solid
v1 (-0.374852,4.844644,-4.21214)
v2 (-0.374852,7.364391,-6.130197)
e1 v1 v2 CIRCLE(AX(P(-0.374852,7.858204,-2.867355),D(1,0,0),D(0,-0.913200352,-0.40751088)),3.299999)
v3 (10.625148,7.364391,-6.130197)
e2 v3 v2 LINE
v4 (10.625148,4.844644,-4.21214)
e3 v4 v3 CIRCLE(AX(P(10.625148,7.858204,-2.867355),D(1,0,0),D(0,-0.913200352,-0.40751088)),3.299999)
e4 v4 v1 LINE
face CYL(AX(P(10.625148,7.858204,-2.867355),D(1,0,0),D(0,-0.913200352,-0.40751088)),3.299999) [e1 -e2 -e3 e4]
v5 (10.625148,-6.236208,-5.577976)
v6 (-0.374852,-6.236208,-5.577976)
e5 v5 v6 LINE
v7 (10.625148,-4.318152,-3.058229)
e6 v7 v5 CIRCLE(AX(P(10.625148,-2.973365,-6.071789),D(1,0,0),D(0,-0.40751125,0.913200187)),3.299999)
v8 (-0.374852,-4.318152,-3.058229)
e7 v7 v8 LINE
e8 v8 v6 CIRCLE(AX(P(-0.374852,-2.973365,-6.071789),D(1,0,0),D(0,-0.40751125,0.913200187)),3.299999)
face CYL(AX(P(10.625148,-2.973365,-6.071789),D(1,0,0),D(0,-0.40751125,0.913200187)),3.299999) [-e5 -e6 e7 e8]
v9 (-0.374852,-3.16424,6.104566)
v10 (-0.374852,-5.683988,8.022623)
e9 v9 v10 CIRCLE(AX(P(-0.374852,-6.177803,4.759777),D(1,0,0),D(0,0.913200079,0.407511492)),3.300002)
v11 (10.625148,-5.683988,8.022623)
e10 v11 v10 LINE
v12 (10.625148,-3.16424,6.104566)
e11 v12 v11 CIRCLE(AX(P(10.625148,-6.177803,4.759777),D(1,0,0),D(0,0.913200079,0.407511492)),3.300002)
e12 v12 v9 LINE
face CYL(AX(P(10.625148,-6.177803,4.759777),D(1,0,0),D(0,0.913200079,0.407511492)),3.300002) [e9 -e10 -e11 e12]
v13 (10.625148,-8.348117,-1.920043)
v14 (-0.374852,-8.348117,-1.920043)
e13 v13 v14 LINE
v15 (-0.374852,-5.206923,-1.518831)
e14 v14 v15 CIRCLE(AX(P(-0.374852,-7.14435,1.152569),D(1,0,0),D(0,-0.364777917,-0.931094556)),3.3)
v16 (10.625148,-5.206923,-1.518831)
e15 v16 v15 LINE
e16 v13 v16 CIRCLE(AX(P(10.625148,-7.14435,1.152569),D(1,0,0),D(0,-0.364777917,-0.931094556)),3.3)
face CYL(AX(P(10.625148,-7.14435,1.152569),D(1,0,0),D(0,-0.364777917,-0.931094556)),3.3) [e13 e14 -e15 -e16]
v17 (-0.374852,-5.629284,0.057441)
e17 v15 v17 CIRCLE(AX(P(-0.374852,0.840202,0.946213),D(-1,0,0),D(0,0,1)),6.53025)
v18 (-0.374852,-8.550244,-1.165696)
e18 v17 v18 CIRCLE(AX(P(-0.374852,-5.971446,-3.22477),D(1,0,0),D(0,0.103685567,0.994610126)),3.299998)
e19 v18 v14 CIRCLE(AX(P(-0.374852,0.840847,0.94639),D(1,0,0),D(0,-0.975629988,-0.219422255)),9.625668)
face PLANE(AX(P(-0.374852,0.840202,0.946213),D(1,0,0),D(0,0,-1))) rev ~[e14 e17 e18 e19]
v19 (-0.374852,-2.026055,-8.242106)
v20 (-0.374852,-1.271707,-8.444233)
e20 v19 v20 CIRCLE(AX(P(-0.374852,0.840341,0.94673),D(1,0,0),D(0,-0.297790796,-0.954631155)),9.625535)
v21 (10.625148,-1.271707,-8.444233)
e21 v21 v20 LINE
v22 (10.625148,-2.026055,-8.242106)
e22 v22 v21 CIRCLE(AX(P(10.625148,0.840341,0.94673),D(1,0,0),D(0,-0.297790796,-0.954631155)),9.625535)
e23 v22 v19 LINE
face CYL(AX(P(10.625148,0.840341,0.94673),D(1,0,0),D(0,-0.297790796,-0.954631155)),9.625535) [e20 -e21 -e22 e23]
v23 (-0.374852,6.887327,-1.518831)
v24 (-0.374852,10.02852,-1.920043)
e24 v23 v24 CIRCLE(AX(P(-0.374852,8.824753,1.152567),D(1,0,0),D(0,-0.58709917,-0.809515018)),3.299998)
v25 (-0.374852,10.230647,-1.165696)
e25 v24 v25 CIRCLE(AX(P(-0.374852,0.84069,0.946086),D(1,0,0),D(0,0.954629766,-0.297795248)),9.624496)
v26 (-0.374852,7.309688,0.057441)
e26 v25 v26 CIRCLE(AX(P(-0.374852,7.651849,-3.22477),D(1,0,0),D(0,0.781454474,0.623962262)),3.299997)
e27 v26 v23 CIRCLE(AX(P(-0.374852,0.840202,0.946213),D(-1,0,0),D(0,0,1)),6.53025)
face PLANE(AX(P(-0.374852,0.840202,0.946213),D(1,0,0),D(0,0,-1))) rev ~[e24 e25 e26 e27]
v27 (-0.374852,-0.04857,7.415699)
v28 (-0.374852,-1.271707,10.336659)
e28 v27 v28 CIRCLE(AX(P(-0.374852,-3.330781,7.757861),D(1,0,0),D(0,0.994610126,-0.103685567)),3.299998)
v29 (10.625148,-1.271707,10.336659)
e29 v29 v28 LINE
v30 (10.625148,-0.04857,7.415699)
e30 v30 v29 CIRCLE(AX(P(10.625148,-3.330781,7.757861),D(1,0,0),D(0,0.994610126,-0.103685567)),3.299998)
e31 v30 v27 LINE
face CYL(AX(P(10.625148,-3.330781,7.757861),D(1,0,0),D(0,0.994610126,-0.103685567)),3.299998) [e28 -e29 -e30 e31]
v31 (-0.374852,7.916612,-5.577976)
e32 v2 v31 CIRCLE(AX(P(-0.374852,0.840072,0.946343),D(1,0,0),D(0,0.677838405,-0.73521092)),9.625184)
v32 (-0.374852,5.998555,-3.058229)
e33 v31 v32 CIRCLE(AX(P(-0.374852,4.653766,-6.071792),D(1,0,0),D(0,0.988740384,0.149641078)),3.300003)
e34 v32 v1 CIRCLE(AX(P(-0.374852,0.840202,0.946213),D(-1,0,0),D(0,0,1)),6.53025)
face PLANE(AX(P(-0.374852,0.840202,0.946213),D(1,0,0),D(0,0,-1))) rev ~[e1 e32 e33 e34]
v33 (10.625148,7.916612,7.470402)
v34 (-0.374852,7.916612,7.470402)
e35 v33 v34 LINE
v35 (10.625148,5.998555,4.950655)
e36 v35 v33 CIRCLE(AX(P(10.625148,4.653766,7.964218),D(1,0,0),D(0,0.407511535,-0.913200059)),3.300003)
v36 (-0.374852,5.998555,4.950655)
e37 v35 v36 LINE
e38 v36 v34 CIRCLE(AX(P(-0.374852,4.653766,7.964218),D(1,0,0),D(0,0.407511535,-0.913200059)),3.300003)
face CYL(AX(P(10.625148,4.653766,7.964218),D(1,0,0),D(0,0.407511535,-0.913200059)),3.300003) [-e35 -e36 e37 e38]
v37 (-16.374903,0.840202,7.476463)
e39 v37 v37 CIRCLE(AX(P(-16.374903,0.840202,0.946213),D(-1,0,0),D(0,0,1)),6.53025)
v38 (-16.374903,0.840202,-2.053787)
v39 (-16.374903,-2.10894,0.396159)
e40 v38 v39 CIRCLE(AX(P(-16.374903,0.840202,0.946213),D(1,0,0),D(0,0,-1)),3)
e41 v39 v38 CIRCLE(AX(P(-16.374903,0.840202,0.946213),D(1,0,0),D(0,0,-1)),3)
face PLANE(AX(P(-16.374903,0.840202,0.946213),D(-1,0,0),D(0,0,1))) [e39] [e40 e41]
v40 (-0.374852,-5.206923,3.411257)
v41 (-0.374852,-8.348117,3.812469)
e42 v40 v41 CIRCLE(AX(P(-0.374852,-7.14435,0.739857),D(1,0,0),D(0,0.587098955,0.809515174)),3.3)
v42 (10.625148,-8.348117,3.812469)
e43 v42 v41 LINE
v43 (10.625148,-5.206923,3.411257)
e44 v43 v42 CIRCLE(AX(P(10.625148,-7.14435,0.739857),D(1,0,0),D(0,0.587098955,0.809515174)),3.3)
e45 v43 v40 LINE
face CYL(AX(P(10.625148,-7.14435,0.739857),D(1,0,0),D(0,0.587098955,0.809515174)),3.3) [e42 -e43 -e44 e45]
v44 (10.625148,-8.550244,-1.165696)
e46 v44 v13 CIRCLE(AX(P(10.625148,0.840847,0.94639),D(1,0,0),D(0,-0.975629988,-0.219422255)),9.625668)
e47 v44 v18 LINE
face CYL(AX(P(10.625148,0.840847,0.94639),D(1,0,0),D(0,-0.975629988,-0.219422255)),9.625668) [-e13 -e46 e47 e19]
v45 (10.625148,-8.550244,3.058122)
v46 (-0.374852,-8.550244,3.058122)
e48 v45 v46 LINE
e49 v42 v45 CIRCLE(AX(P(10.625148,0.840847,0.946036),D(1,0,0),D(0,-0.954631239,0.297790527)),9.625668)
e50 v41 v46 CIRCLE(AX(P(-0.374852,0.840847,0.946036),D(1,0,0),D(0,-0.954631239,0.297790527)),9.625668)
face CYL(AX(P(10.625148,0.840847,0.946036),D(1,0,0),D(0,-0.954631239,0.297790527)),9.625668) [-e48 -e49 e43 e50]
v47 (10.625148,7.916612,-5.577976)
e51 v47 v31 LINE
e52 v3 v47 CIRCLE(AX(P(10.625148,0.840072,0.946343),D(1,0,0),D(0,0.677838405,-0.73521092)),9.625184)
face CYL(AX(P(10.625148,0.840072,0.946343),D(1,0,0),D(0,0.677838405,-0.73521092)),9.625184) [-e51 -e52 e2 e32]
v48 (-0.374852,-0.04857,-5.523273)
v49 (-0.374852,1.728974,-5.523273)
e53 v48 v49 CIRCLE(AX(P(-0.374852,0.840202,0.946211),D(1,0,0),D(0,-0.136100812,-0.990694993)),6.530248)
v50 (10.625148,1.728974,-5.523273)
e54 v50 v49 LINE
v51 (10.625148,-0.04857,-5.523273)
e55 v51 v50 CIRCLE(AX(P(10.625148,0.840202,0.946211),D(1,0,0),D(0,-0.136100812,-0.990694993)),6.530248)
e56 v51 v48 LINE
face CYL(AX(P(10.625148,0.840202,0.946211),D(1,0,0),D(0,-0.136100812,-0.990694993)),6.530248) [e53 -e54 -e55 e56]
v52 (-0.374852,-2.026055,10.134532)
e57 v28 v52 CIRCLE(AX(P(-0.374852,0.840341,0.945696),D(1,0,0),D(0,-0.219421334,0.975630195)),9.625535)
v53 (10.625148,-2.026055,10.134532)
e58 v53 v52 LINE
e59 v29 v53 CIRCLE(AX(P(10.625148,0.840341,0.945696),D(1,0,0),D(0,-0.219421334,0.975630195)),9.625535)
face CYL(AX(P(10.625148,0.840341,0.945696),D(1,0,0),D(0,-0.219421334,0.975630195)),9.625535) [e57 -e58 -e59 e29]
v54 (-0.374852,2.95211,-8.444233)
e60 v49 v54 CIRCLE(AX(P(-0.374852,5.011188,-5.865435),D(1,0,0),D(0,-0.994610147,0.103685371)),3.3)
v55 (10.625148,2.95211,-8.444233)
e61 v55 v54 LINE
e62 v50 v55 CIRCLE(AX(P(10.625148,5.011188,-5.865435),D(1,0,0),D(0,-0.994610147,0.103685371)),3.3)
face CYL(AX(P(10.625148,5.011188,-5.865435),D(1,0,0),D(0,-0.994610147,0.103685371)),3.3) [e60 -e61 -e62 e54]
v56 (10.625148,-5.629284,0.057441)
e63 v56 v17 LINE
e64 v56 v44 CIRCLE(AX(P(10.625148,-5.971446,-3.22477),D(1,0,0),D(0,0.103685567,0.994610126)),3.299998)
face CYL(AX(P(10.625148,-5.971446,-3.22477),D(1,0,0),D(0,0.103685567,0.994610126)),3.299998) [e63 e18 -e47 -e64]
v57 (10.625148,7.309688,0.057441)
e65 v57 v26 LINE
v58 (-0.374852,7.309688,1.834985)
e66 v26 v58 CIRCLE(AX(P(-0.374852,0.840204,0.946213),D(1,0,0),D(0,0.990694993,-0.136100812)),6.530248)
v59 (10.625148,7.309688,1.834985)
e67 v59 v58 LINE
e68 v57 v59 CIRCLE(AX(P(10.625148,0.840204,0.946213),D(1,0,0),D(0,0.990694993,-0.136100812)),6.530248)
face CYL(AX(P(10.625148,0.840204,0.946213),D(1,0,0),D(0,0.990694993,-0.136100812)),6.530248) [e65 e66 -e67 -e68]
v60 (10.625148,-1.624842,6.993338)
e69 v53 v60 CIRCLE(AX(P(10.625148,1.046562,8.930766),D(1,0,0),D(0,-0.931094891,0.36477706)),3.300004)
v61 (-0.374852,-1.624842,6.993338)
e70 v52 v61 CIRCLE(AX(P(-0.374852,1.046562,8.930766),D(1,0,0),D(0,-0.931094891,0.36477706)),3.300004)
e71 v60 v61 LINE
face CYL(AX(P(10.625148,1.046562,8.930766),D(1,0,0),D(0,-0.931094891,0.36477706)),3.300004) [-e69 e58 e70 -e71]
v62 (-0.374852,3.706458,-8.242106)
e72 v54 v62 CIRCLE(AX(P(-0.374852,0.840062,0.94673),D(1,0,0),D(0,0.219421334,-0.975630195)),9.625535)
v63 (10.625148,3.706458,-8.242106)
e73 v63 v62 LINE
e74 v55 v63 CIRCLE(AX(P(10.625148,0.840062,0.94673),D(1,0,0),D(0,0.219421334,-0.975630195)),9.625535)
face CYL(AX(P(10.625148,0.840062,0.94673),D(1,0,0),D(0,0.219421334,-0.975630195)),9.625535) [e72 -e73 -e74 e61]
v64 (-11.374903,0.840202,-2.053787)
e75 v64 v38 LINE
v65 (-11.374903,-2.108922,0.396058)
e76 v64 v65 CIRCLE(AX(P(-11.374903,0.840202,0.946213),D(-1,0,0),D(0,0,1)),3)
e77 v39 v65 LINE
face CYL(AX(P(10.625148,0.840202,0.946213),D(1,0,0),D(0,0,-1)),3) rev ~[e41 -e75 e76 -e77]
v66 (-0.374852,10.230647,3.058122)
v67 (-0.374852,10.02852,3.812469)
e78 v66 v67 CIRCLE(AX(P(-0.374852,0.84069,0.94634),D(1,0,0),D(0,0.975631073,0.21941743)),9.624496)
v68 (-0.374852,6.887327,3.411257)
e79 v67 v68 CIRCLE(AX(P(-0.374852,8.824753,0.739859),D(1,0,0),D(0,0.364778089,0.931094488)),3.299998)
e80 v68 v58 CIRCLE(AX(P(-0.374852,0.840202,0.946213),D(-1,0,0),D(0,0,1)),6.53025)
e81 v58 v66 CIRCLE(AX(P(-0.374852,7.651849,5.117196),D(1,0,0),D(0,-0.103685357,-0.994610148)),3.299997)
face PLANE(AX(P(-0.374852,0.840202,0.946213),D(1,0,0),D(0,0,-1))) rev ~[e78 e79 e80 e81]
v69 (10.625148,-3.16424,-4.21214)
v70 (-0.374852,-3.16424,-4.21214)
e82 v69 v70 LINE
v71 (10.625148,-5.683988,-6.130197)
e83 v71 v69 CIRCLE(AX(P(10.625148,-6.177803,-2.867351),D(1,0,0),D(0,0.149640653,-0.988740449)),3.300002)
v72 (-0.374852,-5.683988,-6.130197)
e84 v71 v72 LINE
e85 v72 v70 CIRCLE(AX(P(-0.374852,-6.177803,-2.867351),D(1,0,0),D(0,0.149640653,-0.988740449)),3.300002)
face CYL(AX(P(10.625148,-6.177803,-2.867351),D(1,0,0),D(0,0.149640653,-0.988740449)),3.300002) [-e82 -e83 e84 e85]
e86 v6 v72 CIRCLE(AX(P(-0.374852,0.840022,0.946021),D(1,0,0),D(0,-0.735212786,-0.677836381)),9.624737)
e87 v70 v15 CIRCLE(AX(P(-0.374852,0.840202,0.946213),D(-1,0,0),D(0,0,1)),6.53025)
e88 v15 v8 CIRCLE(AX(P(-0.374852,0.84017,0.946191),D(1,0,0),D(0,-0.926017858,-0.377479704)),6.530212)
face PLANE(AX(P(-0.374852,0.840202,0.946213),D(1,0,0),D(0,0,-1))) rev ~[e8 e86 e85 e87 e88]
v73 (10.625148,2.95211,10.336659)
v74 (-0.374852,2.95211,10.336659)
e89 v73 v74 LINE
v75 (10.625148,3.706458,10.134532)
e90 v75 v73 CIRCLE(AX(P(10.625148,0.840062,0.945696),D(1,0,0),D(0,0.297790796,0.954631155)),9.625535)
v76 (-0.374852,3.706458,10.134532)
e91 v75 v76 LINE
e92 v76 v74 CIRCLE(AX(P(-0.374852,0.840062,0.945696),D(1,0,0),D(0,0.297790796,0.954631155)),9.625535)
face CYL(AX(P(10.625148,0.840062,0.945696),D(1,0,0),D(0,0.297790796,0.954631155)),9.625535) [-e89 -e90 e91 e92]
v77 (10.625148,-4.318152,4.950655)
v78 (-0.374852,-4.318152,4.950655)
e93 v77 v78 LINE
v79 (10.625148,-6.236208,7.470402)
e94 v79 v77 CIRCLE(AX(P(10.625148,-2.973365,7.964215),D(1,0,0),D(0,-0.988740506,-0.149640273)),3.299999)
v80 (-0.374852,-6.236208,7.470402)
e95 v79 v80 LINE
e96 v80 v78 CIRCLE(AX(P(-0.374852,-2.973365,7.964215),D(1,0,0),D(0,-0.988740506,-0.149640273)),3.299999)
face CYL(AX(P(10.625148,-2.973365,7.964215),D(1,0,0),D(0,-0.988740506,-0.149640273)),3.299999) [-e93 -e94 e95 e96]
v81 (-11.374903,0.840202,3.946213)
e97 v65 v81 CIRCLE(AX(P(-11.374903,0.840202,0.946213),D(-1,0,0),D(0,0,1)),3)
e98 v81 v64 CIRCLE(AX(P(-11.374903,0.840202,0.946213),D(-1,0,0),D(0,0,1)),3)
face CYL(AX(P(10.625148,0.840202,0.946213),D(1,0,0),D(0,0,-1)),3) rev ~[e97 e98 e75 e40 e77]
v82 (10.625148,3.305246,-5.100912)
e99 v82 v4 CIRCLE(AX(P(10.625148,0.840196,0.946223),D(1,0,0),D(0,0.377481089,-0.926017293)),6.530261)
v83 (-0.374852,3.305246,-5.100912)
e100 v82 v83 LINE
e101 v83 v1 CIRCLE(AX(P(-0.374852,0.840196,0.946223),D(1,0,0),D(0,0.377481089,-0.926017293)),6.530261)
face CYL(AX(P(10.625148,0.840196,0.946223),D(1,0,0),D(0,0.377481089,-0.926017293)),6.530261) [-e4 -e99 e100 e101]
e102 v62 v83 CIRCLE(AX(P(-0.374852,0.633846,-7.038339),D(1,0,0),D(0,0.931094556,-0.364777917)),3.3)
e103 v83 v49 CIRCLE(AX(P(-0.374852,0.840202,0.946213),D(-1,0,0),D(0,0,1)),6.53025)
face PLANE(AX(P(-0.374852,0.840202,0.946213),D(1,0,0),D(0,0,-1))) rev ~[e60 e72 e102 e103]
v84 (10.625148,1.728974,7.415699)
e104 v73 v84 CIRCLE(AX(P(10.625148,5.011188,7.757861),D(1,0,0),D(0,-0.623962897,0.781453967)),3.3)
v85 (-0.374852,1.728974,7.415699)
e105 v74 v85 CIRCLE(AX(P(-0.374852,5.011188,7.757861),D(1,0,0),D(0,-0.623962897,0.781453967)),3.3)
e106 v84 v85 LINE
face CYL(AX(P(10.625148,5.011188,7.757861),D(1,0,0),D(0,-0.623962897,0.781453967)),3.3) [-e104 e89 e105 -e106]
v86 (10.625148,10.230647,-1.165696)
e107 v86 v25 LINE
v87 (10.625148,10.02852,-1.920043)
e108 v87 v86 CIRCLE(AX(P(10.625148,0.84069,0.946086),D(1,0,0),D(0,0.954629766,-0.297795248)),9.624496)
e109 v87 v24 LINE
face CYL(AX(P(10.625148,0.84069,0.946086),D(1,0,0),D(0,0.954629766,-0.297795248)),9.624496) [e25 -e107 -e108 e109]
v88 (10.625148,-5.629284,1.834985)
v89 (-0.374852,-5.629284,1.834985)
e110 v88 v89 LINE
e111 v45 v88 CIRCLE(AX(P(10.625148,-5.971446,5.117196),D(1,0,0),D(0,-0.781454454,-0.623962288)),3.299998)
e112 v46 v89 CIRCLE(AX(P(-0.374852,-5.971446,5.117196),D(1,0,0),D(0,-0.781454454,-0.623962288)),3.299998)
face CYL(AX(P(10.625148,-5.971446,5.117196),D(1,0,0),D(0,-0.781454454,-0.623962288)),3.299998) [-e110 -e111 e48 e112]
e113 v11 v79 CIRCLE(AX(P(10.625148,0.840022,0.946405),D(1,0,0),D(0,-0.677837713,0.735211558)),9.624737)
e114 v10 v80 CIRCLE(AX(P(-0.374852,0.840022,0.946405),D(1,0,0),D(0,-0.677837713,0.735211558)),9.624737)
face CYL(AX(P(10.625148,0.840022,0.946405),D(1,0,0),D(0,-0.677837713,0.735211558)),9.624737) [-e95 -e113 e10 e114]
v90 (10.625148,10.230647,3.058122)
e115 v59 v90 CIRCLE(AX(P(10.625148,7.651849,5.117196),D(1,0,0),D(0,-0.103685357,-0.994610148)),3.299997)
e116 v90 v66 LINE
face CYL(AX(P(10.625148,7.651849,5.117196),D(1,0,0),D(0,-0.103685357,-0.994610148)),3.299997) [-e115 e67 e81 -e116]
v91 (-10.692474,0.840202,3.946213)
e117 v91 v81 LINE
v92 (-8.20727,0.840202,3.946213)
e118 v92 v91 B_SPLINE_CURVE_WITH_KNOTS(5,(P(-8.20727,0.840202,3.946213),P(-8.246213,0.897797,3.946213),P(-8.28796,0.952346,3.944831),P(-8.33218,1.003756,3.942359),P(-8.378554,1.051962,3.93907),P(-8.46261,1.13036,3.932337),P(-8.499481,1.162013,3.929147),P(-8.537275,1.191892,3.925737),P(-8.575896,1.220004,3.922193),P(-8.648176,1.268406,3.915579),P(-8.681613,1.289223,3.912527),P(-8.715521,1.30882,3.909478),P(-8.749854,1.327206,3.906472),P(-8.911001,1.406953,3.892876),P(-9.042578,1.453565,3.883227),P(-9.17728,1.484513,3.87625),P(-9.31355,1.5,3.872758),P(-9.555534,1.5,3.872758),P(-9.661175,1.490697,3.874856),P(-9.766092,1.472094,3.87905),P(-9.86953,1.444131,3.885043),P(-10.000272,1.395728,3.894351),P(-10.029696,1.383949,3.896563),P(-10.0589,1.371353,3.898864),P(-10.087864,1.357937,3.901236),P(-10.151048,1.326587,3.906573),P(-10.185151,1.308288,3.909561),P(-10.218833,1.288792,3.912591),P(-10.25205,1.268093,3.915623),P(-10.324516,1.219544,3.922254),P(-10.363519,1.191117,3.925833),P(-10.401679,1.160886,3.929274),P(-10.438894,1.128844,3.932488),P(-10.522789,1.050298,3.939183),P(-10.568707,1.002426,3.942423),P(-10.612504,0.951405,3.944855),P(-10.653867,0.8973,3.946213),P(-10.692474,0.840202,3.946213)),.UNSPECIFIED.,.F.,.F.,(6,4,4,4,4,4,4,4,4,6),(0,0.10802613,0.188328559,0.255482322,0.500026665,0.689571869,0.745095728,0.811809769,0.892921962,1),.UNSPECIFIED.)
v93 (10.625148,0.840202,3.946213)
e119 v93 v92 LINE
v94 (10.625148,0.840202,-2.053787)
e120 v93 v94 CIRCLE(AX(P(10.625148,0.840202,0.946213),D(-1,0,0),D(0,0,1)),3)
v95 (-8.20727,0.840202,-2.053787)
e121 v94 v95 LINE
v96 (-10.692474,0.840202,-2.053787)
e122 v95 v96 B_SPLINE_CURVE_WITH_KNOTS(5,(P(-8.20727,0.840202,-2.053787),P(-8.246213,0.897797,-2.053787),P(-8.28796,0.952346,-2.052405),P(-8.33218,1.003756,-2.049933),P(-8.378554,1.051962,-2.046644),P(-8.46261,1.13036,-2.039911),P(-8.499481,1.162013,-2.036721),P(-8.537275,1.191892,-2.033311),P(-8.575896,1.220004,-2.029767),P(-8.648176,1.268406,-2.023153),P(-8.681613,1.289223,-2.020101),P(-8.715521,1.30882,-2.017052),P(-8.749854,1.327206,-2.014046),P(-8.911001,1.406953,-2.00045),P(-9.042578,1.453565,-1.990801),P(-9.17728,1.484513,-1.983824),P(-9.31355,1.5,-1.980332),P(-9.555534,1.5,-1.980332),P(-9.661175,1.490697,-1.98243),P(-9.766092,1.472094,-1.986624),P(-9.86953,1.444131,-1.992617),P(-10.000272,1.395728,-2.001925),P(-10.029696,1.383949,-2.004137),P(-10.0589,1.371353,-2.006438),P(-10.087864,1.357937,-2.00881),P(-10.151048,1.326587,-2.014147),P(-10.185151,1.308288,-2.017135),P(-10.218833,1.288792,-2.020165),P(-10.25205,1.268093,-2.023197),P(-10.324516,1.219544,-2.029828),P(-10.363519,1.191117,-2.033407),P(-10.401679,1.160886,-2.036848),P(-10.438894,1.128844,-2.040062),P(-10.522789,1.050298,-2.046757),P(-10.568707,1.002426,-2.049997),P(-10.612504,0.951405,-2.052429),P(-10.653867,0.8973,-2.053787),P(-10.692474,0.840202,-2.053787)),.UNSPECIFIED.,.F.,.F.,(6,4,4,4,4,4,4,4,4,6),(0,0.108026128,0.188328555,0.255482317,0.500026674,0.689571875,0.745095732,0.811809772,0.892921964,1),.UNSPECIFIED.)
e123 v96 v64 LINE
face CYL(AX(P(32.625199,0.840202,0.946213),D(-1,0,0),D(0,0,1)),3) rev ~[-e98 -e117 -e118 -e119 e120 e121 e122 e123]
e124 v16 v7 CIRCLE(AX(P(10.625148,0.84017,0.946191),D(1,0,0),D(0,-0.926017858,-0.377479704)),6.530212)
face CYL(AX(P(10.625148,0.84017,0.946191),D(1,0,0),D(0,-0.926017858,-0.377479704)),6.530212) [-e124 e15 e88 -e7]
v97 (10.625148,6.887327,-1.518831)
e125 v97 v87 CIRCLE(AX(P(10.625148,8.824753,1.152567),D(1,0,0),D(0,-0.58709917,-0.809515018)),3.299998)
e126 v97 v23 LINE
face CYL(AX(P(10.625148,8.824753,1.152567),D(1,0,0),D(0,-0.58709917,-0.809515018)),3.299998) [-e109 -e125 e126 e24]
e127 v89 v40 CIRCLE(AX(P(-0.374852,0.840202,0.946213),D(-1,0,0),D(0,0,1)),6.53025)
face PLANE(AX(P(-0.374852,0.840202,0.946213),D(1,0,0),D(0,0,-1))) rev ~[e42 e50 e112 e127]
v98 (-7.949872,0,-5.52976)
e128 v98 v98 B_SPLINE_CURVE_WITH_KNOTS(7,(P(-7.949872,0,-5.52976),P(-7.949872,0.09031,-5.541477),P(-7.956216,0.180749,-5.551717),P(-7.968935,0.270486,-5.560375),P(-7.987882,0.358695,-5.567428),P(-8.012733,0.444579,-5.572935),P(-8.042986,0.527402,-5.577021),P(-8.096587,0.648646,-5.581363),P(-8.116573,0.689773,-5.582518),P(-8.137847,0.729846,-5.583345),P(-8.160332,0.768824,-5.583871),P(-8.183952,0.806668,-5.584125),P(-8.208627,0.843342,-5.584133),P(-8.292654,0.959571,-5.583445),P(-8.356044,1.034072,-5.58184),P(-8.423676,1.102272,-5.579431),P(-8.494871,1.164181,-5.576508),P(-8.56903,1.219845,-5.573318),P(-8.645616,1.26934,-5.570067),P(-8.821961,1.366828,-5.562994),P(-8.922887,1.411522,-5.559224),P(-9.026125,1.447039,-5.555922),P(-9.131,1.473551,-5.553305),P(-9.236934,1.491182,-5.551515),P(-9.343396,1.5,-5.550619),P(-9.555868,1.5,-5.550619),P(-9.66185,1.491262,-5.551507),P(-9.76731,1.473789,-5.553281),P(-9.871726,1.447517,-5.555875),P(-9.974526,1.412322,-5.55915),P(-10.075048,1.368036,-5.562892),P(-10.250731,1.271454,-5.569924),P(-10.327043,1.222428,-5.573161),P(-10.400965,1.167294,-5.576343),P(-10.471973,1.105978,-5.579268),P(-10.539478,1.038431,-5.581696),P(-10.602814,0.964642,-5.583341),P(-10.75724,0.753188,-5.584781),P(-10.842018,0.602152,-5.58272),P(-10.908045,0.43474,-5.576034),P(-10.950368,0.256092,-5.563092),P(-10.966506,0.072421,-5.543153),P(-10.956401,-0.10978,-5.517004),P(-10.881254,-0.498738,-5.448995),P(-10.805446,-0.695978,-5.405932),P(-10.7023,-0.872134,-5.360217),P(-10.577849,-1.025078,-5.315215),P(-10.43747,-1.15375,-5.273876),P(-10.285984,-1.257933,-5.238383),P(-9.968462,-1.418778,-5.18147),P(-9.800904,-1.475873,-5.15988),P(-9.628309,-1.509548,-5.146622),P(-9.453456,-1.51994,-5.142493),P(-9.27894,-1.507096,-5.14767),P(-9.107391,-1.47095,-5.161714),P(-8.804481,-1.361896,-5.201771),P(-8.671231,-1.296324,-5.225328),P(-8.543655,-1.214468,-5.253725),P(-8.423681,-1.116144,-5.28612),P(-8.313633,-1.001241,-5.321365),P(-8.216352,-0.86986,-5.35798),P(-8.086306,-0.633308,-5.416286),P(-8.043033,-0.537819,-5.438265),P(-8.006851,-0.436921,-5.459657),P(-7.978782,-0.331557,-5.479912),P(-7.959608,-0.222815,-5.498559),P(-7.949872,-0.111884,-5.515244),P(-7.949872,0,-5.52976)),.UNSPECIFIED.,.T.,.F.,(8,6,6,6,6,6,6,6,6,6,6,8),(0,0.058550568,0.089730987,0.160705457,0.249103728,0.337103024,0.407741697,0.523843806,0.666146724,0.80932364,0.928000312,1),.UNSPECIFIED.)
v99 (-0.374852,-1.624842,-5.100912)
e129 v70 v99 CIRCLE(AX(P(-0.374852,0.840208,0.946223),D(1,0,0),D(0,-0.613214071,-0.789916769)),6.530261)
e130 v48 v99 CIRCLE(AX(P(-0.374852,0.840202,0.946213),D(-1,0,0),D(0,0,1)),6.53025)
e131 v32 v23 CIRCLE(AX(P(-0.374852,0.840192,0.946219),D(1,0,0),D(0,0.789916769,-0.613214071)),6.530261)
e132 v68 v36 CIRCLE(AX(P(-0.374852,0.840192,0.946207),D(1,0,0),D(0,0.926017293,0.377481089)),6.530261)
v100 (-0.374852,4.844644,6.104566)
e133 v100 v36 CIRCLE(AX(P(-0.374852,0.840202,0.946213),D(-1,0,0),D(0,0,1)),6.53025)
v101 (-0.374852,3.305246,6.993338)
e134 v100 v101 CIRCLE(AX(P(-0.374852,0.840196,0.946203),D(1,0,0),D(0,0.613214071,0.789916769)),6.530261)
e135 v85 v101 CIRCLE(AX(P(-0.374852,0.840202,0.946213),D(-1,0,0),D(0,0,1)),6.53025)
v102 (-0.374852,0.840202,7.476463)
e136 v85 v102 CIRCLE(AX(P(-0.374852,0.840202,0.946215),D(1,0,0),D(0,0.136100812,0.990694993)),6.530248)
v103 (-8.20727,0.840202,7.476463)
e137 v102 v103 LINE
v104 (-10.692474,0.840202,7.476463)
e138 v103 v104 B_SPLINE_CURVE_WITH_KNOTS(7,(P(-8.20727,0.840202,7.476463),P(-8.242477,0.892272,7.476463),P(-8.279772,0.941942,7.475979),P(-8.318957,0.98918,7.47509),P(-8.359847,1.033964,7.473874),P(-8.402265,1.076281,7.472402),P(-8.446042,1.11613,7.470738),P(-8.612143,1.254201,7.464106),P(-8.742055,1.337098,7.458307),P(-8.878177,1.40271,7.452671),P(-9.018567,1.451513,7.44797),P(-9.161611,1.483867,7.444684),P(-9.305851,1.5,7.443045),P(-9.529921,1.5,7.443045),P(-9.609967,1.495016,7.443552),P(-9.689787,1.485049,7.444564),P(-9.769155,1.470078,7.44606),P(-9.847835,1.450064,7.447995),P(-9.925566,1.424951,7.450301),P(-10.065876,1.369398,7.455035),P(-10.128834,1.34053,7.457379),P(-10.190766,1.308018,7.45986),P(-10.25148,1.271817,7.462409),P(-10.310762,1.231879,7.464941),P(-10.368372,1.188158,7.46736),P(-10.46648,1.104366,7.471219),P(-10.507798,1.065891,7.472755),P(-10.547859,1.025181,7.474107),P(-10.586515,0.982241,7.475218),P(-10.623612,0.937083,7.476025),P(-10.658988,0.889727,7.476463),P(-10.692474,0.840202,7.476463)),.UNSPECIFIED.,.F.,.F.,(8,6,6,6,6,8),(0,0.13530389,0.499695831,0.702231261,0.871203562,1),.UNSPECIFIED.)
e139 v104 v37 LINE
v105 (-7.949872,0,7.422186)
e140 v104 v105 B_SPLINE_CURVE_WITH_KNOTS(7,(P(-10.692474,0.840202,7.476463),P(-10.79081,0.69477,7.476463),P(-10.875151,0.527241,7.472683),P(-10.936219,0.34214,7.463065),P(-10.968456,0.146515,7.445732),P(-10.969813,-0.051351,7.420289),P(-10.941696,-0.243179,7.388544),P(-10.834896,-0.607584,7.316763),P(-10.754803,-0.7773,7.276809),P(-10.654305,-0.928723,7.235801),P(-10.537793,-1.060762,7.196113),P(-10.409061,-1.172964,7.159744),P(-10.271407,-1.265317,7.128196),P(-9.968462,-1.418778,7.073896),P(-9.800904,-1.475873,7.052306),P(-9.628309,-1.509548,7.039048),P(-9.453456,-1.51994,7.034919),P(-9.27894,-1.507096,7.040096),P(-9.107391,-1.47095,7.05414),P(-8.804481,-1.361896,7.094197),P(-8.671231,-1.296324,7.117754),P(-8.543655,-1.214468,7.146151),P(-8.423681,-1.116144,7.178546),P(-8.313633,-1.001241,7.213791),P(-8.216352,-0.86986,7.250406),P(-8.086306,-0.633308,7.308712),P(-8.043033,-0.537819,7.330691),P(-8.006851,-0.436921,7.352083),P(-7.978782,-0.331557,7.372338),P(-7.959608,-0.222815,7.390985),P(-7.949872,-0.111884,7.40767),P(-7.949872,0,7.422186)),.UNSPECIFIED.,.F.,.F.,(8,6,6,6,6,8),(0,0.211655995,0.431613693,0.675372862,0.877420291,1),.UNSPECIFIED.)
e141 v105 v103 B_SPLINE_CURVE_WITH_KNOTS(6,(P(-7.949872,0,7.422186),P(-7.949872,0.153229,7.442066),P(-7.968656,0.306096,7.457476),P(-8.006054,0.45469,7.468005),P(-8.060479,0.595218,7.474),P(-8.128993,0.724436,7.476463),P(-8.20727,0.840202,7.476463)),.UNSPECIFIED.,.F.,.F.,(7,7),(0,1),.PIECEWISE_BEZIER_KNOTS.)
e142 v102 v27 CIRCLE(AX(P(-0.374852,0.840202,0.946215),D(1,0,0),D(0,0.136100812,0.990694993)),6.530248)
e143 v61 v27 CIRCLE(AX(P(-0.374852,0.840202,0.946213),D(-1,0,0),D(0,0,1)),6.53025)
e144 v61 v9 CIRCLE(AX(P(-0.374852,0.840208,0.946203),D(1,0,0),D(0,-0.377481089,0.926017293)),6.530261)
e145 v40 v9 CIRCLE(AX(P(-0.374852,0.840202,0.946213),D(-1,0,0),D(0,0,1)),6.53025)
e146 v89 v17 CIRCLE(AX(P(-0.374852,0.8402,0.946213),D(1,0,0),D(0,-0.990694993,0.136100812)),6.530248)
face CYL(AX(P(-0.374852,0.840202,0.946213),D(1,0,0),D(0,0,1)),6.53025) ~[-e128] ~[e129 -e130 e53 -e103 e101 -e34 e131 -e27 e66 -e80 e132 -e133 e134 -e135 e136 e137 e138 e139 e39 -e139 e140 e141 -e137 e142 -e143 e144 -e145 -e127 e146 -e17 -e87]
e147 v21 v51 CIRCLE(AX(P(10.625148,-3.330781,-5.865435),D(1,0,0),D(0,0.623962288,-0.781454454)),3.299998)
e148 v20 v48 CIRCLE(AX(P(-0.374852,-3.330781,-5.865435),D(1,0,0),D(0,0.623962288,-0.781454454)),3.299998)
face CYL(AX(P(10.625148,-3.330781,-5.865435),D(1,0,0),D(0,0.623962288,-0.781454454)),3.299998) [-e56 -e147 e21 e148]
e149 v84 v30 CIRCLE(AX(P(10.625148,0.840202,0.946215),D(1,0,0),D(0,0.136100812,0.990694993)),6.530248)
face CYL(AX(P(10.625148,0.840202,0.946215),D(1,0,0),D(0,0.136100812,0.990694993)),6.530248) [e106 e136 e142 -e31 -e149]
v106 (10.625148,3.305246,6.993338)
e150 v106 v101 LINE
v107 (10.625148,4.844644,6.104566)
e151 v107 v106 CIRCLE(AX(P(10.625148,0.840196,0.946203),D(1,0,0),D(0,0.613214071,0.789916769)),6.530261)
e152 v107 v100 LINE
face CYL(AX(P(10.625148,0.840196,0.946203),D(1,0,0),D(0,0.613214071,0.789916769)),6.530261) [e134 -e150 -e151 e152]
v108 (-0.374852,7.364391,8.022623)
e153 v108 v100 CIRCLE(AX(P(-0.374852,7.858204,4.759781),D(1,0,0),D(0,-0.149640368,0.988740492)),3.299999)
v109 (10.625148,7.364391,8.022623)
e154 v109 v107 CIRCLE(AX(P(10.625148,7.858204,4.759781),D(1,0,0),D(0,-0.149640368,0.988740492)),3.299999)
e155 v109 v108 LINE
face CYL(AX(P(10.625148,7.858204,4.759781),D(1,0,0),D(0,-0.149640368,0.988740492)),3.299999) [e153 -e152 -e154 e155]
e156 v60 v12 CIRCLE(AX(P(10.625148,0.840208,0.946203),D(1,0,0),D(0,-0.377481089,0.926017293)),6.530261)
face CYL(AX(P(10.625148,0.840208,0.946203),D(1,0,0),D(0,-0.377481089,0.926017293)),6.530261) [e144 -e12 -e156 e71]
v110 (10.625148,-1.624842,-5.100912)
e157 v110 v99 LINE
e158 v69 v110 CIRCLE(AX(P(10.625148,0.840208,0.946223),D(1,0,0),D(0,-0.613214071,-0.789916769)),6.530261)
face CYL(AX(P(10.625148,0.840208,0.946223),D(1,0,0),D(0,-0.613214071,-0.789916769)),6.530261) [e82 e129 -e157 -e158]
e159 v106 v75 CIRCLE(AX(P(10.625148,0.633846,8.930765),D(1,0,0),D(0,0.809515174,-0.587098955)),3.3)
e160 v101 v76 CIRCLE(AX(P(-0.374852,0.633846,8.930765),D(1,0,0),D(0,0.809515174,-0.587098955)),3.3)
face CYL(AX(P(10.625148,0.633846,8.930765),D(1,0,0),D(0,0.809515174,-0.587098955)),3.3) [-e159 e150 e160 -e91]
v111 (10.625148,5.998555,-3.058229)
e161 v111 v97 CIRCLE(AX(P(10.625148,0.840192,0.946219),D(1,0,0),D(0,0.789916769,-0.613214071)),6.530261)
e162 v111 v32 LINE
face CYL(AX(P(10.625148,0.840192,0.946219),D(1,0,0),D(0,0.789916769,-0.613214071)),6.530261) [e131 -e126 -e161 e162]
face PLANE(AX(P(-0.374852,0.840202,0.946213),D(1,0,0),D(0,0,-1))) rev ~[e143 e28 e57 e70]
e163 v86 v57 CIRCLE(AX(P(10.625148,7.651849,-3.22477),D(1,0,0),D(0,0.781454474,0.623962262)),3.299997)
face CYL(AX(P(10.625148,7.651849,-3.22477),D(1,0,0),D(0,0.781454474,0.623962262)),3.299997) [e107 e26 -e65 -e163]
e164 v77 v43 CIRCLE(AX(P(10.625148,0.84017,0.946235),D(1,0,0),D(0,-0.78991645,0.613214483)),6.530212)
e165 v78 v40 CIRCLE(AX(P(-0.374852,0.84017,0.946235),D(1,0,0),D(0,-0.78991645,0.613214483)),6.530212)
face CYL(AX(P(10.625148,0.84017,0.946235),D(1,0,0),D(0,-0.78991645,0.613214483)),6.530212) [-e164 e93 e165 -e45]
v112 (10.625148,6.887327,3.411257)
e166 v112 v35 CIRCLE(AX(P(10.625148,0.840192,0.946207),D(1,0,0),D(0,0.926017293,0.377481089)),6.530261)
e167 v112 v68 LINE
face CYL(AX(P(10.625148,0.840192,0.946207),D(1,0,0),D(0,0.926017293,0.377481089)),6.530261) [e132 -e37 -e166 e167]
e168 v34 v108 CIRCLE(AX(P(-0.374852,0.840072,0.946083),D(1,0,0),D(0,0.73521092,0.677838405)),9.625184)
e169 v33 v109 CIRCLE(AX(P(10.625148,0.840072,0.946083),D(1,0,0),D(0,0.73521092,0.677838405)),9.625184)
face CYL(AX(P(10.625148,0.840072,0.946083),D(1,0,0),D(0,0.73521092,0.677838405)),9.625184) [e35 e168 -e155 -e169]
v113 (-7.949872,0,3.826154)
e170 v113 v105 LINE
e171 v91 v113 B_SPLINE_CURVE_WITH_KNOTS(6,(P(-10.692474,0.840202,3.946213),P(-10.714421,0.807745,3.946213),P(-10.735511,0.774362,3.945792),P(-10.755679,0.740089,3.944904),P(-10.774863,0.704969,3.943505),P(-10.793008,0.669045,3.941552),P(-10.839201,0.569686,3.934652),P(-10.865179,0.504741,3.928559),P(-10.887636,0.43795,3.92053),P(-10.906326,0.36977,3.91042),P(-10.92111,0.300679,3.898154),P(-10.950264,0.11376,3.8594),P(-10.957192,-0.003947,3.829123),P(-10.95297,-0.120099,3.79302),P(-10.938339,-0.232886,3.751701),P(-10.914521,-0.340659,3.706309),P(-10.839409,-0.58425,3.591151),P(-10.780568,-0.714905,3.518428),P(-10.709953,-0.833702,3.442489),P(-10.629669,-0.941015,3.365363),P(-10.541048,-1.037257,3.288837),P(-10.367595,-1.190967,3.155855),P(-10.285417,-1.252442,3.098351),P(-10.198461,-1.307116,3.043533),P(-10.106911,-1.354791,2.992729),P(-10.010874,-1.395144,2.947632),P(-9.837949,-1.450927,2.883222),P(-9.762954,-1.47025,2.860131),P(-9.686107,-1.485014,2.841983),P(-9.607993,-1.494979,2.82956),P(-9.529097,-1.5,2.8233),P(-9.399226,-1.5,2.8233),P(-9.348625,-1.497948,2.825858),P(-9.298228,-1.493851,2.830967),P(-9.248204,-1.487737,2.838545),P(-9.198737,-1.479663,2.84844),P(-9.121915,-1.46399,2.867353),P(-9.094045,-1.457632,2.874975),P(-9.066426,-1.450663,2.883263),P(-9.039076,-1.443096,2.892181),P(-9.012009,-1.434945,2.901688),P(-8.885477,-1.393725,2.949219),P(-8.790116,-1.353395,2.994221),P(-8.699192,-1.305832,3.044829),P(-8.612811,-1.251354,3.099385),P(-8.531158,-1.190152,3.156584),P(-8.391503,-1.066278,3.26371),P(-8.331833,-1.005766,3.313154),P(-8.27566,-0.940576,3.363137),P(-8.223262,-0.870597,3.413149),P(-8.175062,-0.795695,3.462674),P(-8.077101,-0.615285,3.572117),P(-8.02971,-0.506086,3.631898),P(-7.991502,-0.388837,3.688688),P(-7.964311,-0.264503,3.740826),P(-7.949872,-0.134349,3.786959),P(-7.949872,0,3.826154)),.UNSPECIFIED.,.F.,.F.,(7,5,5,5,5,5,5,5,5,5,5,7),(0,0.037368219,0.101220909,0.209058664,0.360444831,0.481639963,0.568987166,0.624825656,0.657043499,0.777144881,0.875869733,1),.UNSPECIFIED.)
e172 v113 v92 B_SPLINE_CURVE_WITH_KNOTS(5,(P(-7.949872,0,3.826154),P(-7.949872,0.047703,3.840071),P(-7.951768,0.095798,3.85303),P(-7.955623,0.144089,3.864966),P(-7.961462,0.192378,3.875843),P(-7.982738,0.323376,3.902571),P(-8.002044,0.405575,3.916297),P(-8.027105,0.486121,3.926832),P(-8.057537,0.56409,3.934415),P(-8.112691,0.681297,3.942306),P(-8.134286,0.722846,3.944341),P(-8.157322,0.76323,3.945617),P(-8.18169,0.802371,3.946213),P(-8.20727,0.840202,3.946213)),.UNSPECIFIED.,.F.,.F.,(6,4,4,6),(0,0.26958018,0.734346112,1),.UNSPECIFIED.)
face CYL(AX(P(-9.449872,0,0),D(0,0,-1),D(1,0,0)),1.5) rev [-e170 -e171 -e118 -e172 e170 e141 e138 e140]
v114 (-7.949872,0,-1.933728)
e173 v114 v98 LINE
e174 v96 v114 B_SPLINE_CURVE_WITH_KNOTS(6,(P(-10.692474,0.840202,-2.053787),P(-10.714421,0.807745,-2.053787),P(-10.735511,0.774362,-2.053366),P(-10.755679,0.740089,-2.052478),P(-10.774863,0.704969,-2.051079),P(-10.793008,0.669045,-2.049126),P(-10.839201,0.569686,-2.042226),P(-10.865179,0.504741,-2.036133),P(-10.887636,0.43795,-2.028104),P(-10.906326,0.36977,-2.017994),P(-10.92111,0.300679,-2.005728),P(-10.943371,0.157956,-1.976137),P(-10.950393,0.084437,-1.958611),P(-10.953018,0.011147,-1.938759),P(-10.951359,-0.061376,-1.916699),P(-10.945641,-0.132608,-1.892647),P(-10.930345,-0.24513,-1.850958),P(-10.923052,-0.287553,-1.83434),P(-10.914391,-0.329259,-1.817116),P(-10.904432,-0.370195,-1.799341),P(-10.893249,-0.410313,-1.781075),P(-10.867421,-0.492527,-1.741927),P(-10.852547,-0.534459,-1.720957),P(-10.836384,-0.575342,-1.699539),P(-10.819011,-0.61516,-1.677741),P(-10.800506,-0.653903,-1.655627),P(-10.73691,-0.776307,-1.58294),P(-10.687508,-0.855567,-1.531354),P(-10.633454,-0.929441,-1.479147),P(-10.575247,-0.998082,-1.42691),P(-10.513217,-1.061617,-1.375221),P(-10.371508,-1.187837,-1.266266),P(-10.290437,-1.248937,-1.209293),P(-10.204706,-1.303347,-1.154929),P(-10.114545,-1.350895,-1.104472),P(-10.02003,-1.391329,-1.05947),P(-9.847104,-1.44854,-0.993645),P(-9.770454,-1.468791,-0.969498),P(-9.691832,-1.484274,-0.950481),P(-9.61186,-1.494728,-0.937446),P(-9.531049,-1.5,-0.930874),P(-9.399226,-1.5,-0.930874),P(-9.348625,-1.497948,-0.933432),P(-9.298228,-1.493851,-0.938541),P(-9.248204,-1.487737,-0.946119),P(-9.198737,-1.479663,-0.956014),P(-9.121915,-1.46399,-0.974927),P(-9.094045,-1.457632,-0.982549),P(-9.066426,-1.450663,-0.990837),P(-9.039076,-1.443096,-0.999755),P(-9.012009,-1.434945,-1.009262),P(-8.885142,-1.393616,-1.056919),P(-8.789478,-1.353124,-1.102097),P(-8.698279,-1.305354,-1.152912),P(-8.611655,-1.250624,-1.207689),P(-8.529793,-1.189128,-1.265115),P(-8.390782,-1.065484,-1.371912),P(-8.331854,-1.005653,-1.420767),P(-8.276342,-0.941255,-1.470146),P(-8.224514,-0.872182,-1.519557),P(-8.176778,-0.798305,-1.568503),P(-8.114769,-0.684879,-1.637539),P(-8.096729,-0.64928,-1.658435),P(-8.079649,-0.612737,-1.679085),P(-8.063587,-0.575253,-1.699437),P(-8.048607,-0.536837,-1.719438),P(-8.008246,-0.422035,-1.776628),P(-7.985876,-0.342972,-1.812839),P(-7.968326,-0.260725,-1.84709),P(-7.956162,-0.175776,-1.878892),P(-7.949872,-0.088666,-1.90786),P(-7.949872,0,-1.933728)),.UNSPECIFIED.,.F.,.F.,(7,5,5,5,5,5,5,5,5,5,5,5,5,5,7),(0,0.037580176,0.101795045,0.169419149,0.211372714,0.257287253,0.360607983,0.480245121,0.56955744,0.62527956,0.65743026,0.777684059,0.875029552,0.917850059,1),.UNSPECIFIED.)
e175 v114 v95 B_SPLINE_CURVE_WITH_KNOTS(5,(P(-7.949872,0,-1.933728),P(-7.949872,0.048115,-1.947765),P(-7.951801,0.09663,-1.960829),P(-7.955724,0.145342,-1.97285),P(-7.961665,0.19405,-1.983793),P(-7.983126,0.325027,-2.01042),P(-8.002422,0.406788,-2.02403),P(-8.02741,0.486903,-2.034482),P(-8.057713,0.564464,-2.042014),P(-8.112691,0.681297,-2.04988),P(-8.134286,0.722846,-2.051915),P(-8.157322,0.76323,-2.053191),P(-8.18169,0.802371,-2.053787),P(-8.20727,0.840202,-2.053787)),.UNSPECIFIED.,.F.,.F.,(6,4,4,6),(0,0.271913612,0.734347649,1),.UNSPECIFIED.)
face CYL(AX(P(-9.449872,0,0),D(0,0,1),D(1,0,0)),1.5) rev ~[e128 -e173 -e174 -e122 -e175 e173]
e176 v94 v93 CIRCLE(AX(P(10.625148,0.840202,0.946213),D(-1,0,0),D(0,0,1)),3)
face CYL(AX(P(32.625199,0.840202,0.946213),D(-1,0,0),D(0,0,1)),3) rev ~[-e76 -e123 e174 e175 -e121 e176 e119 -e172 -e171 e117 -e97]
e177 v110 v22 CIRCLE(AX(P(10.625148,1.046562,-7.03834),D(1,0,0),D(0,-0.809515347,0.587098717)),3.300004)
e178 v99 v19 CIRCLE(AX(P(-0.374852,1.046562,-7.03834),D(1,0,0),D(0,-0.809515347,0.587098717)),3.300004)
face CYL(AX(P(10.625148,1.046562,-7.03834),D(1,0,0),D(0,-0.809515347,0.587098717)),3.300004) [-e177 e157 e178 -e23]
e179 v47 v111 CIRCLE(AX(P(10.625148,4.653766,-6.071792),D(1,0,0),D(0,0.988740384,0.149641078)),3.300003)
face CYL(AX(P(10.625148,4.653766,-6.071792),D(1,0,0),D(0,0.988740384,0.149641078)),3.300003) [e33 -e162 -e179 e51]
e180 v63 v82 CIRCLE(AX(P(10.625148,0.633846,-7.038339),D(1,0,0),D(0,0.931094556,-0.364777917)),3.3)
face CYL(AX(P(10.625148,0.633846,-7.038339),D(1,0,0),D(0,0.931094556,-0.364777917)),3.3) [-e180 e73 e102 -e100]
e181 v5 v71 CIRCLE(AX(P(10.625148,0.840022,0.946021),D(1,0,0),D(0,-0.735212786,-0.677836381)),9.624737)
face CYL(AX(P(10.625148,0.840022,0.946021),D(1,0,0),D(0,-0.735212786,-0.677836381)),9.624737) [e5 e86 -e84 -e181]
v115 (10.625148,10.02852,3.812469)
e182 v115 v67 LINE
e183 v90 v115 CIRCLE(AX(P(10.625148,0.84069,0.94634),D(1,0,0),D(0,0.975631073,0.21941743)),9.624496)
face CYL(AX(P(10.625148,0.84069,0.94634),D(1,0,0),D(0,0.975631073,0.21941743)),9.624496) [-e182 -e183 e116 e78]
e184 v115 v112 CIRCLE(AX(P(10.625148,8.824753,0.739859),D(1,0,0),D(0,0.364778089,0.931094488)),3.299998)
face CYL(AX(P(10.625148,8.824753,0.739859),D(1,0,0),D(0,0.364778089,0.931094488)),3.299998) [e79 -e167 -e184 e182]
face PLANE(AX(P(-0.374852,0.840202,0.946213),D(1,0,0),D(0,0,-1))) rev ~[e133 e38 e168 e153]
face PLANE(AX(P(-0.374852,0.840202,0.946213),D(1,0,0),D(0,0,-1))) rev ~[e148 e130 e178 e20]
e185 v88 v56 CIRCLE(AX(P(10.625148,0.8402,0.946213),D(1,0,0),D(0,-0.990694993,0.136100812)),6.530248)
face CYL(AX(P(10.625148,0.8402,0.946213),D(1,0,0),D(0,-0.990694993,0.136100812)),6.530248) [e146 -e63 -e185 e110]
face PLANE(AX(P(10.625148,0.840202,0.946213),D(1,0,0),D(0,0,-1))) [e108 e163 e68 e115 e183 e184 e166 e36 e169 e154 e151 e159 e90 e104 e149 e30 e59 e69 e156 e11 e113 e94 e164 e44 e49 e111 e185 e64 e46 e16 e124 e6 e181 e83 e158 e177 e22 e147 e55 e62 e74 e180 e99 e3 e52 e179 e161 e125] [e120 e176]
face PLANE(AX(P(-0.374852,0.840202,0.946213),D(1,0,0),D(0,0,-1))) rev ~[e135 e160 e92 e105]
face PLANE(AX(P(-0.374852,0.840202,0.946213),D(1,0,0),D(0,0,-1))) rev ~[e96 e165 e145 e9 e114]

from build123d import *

# Parameters (mm, degrees)
BOSS_EXTRUDE1_DEPTH          = 11
SKETCH2_R                    = 6.53025
BOSS_EXTRUDE2_DEPTH          = 16.000051
F_6_0_6_DIAMETER_HOLE1_D     = 6
F_6_0_6_DIAMETER_HOLE1_DEPTH = 22.000051
SKETCH6_R                    = 0.016569
CUT_EXTRUDE1_DEPTH           = 80
SKETCH7_R                    = 3
CUT_EXTRUDE2_DEPTH           = 80
SKETCH8_R                    = 1.5
CUT_EXTRUDE3_DEPTH           = 11.336659
CUT_EXTRUDE3_DEPTH_BACK      = 9.444233


with BuildPart() as part:
    # Sketch1 → Boss-Extrude1 (new body)
    with BuildSketch(Plane(origin=(10.625148, 0, 0), x_dir=(0, 0, -1), z_dir=(1, 0, 0))):
        with BuildLine():
            ThreePointArc((-3.411257, 6.887327), (-4.211338, 6.495564), (-4.950655, 5.998555))
            ThreePointArc((-4.950655, 5.998555), (-5.965428, 7.279572), (-7.470402, 7.916612))
            ThreePointArc((-7.470402, 7.916612), (-7.752116, 7.646104), (-8.022623, 7.364391))
            ThreePointArc((-8.022623, 7.364391), (-7.385583, 5.859416), (-6.104566, 4.844644))
            ThreePointArc((-6.104566, 4.844644), (-6.601575, 4.105327), (-6.993338, 3.305246))
            ThreePointArc((-6.993338, 3.305246), (-8.512666, 3.907253), (-10.134532, 3.706458))
            ThreePointArc((-10.134532, 3.706458), (-10.243249, 3.331335), (-10.336659, 2.95211))
            ThreePointArc((-10.336659, 2.95211), (-9.032479, 1.967284), (-7.415699, 1.728974))
            ThreePointArc((-7.415699, 1.728974), (-7.476463, 0.840202), (-7.415699, -0.04857))
            ThreePointArc((-7.415699, -0.04857), (-9.032479, -0.28688), (-10.336659, -1.271707))
            ThreePointArc((-10.336659, -1.271707), (-10.243249, -1.650932), (-10.134532, -2.026055))
            ThreePointArc((-10.134532, -2.026055), (-8.512666, -2.226849), (-6.993338, -1.624842))
            ThreePointArc((-6.993338, -1.624842), (-6.601575, -2.424923), (-6.104566, -3.16424))
            ThreePointArc((-6.104566, -3.16424), (-7.385583, -4.179013), (-8.022623, -5.683988))
            ThreePointArc((-8.022623, -5.683988), (-7.752116, -5.965701), (-7.470402, -6.236208))
            ThreePointArc((-7.470402, -6.236208), (-5.965428, -5.599169), (-4.950655, -4.318152))
            ThreePointArc((-4.950655, -4.318152), (-4.211338, -4.815161), (-3.411257, -5.206923))
            ThreePointArc((-3.411257, -5.206923), (-4.013264, -6.726251), (-3.812469, -8.348117))
            ThreePointArc((-3.812469, -8.348117), (-3.437346, -8.456834), (-3.058122, -8.550244))
            ThreePointArc((-3.058122, -8.550244), (-2.073295, -7.246064), (-1.834985, -5.629284))
            ThreePointArc((-1.834985, -5.629284), (-0.946213, -5.690048), (-0.057441, -5.629284))
            ThreePointArc((-0.057441, -5.629284), (0.180869, -7.246064), (1.165696, -8.550244))
            ThreePointArc((1.165696, -8.550244), (1.54492, -8.456834), (1.920043, -8.348117))
            ThreePointArc((1.920043, -8.348117), (2.120838, -6.726251), (1.518831, -5.206923))
            ThreePointArc((1.518831, -5.206923), (2.318912, -4.815161), (3.058229, -4.318152))
            ThreePointArc((3.058229, -4.318152), (4.073002, -5.599169), (5.577976, -6.236208))
            ThreePointArc((5.577976, -6.236208), (5.85969, -5.965701), (6.130197, -5.683988))
            ThreePointArc((6.130197, -5.683988), (5.493157, -4.179013), (4.21214, -3.16424))
            ThreePointArc((4.21214, -3.16424), (4.709149, -2.424923), (5.100912, -1.624842))
            ThreePointArc((5.100912, -1.624842), (6.62024, -2.226849), (8.242106, -2.026055))
            ThreePointArc((8.242106, -2.026055), (8.350823, -1.650932), (8.444233, -1.271707))
            ThreePointArc((8.444233, -1.271707), (7.140053, -0.28688), (5.523273, -0.04857))
            ThreePointArc((5.523273, -0.04857), (5.584037, 0.840202), (5.523273, 1.728974))
            ThreePointArc((5.523273, 1.728974), (7.140053, 1.967284), (8.444233, 2.95211))
            ThreePointArc((8.444233, 2.95211), (8.350823, 3.331335), (8.242106, 3.706458))
            ThreePointArc((8.242106, 3.706458), (6.62024, 3.907253), (5.100912, 3.305246))
            ThreePointArc((5.100912, 3.305246), (4.709149, 4.105327), (4.21214, 4.844644))
            ThreePointArc((4.21214, 4.844644), (5.493157, 5.859416), (6.130197, 7.364391))
            ThreePointArc((6.130197, 7.364391), (5.85969, 7.646104), (5.577976, 7.916612))
            ThreePointArc((5.577976, 7.916612), (4.073002, 7.279572), (3.058229, 5.998555))
            ThreePointArc((3.058229, 5.998555), (2.318912, 6.495564), (1.518831, 6.887327))
            ThreePointArc((1.518831, 6.887327), (2.120838, 8.406654), (1.920043, 10.02852))
            ThreePointArc((1.920043, 10.02852), (1.54492, 10.137238), (1.165696, 10.230647))
            ThreePointArc((1.165696, 10.230647), (0.180869, 8.926467), (-0.057441, 7.309688))
            ThreePointArc((-0.057441, 7.309688), (-0.946213, 7.370452), (-1.834985, 7.309688))
            ThreePointArc((-1.834985, 7.309688), (-2.073295, 8.926467), (-3.058122, 10.230647))
            ThreePointArc((-3.058122, 10.230647), (-3.437346, 10.137238), (-3.812469, 10.02852))
            ThreePointArc((-3.812469, 10.02852), (-4.013264, 8.406654), (-3.411257, 6.887327))
        make_face()
    extrude(amount=-BOSS_EXTRUDE1_DEPTH)

    # Sketch2 → Boss-Extrude2 (add)
    with BuildSketch(Plane.ZY.offset(0.374852)):
        with Locations((0.946213, 0.840202)):
            Circle(SKETCH2_R)
    extrude(amount=BOSS_EXTRUDE2_DEPTH)

    # Ø6.0 (6) Diameter Hole1
    with Locations(Plane(origin=(10.625148, 0, 0), x_dir=(0, 0, -1), z_dir=(1, 0, 0))):
        with Locations((-0.946213, 0.840202)):
            Hole(F_6_0_6_DIAMETER_HOLE1_D / 2, depth=F_6_0_6_DIAMETER_HOLE1_DEPTH)

    # Sketch6 → Cut-Extrude1 (cut)
    with BuildSketch(Plane(origin=(10.625148, 0, 0), x_dir=(0, 0, -1), z_dir=(1, 0, 0))):
        with Locations((-0.399147, -2.092643)):
            Circle(SKETCH6_R)
    extrude(amount=-CUT_EXTRUDE1_DEPTH, mode=Mode.SUBTRACT)

    # Sketch7 → Cut-Extrude2 (cut)
    with BuildSketch(Plane(origin=(10.625148, 0, 0), x_dir=(0, 0, -1), z_dir=(1, 0, 0))):
        with Locations((-0.946213, 0.840202)):
            Circle(SKETCH7_R)
    extrude(amount=-CUT_EXTRUDE2_DEPTH, mode=Mode.SUBTRACT)

    # Sketch8 → Cut-Extrude3 (cut, two sides)
    with BuildSketch(Plane.XY) as cut_extrude3_sk:
        with Locations((-9.449872, 0)):
            Circle(SKETCH8_R)
    extrude(amount=CUT_EXTRUDE3_DEPTH, mode=Mode.SUBTRACT)
    extrude(cut_extrude3_sk.sketch, amount=-CUT_EXTRUDE3_DEPTH_BACK, mode=Mode.SUBTRACT)


solid = part.part
